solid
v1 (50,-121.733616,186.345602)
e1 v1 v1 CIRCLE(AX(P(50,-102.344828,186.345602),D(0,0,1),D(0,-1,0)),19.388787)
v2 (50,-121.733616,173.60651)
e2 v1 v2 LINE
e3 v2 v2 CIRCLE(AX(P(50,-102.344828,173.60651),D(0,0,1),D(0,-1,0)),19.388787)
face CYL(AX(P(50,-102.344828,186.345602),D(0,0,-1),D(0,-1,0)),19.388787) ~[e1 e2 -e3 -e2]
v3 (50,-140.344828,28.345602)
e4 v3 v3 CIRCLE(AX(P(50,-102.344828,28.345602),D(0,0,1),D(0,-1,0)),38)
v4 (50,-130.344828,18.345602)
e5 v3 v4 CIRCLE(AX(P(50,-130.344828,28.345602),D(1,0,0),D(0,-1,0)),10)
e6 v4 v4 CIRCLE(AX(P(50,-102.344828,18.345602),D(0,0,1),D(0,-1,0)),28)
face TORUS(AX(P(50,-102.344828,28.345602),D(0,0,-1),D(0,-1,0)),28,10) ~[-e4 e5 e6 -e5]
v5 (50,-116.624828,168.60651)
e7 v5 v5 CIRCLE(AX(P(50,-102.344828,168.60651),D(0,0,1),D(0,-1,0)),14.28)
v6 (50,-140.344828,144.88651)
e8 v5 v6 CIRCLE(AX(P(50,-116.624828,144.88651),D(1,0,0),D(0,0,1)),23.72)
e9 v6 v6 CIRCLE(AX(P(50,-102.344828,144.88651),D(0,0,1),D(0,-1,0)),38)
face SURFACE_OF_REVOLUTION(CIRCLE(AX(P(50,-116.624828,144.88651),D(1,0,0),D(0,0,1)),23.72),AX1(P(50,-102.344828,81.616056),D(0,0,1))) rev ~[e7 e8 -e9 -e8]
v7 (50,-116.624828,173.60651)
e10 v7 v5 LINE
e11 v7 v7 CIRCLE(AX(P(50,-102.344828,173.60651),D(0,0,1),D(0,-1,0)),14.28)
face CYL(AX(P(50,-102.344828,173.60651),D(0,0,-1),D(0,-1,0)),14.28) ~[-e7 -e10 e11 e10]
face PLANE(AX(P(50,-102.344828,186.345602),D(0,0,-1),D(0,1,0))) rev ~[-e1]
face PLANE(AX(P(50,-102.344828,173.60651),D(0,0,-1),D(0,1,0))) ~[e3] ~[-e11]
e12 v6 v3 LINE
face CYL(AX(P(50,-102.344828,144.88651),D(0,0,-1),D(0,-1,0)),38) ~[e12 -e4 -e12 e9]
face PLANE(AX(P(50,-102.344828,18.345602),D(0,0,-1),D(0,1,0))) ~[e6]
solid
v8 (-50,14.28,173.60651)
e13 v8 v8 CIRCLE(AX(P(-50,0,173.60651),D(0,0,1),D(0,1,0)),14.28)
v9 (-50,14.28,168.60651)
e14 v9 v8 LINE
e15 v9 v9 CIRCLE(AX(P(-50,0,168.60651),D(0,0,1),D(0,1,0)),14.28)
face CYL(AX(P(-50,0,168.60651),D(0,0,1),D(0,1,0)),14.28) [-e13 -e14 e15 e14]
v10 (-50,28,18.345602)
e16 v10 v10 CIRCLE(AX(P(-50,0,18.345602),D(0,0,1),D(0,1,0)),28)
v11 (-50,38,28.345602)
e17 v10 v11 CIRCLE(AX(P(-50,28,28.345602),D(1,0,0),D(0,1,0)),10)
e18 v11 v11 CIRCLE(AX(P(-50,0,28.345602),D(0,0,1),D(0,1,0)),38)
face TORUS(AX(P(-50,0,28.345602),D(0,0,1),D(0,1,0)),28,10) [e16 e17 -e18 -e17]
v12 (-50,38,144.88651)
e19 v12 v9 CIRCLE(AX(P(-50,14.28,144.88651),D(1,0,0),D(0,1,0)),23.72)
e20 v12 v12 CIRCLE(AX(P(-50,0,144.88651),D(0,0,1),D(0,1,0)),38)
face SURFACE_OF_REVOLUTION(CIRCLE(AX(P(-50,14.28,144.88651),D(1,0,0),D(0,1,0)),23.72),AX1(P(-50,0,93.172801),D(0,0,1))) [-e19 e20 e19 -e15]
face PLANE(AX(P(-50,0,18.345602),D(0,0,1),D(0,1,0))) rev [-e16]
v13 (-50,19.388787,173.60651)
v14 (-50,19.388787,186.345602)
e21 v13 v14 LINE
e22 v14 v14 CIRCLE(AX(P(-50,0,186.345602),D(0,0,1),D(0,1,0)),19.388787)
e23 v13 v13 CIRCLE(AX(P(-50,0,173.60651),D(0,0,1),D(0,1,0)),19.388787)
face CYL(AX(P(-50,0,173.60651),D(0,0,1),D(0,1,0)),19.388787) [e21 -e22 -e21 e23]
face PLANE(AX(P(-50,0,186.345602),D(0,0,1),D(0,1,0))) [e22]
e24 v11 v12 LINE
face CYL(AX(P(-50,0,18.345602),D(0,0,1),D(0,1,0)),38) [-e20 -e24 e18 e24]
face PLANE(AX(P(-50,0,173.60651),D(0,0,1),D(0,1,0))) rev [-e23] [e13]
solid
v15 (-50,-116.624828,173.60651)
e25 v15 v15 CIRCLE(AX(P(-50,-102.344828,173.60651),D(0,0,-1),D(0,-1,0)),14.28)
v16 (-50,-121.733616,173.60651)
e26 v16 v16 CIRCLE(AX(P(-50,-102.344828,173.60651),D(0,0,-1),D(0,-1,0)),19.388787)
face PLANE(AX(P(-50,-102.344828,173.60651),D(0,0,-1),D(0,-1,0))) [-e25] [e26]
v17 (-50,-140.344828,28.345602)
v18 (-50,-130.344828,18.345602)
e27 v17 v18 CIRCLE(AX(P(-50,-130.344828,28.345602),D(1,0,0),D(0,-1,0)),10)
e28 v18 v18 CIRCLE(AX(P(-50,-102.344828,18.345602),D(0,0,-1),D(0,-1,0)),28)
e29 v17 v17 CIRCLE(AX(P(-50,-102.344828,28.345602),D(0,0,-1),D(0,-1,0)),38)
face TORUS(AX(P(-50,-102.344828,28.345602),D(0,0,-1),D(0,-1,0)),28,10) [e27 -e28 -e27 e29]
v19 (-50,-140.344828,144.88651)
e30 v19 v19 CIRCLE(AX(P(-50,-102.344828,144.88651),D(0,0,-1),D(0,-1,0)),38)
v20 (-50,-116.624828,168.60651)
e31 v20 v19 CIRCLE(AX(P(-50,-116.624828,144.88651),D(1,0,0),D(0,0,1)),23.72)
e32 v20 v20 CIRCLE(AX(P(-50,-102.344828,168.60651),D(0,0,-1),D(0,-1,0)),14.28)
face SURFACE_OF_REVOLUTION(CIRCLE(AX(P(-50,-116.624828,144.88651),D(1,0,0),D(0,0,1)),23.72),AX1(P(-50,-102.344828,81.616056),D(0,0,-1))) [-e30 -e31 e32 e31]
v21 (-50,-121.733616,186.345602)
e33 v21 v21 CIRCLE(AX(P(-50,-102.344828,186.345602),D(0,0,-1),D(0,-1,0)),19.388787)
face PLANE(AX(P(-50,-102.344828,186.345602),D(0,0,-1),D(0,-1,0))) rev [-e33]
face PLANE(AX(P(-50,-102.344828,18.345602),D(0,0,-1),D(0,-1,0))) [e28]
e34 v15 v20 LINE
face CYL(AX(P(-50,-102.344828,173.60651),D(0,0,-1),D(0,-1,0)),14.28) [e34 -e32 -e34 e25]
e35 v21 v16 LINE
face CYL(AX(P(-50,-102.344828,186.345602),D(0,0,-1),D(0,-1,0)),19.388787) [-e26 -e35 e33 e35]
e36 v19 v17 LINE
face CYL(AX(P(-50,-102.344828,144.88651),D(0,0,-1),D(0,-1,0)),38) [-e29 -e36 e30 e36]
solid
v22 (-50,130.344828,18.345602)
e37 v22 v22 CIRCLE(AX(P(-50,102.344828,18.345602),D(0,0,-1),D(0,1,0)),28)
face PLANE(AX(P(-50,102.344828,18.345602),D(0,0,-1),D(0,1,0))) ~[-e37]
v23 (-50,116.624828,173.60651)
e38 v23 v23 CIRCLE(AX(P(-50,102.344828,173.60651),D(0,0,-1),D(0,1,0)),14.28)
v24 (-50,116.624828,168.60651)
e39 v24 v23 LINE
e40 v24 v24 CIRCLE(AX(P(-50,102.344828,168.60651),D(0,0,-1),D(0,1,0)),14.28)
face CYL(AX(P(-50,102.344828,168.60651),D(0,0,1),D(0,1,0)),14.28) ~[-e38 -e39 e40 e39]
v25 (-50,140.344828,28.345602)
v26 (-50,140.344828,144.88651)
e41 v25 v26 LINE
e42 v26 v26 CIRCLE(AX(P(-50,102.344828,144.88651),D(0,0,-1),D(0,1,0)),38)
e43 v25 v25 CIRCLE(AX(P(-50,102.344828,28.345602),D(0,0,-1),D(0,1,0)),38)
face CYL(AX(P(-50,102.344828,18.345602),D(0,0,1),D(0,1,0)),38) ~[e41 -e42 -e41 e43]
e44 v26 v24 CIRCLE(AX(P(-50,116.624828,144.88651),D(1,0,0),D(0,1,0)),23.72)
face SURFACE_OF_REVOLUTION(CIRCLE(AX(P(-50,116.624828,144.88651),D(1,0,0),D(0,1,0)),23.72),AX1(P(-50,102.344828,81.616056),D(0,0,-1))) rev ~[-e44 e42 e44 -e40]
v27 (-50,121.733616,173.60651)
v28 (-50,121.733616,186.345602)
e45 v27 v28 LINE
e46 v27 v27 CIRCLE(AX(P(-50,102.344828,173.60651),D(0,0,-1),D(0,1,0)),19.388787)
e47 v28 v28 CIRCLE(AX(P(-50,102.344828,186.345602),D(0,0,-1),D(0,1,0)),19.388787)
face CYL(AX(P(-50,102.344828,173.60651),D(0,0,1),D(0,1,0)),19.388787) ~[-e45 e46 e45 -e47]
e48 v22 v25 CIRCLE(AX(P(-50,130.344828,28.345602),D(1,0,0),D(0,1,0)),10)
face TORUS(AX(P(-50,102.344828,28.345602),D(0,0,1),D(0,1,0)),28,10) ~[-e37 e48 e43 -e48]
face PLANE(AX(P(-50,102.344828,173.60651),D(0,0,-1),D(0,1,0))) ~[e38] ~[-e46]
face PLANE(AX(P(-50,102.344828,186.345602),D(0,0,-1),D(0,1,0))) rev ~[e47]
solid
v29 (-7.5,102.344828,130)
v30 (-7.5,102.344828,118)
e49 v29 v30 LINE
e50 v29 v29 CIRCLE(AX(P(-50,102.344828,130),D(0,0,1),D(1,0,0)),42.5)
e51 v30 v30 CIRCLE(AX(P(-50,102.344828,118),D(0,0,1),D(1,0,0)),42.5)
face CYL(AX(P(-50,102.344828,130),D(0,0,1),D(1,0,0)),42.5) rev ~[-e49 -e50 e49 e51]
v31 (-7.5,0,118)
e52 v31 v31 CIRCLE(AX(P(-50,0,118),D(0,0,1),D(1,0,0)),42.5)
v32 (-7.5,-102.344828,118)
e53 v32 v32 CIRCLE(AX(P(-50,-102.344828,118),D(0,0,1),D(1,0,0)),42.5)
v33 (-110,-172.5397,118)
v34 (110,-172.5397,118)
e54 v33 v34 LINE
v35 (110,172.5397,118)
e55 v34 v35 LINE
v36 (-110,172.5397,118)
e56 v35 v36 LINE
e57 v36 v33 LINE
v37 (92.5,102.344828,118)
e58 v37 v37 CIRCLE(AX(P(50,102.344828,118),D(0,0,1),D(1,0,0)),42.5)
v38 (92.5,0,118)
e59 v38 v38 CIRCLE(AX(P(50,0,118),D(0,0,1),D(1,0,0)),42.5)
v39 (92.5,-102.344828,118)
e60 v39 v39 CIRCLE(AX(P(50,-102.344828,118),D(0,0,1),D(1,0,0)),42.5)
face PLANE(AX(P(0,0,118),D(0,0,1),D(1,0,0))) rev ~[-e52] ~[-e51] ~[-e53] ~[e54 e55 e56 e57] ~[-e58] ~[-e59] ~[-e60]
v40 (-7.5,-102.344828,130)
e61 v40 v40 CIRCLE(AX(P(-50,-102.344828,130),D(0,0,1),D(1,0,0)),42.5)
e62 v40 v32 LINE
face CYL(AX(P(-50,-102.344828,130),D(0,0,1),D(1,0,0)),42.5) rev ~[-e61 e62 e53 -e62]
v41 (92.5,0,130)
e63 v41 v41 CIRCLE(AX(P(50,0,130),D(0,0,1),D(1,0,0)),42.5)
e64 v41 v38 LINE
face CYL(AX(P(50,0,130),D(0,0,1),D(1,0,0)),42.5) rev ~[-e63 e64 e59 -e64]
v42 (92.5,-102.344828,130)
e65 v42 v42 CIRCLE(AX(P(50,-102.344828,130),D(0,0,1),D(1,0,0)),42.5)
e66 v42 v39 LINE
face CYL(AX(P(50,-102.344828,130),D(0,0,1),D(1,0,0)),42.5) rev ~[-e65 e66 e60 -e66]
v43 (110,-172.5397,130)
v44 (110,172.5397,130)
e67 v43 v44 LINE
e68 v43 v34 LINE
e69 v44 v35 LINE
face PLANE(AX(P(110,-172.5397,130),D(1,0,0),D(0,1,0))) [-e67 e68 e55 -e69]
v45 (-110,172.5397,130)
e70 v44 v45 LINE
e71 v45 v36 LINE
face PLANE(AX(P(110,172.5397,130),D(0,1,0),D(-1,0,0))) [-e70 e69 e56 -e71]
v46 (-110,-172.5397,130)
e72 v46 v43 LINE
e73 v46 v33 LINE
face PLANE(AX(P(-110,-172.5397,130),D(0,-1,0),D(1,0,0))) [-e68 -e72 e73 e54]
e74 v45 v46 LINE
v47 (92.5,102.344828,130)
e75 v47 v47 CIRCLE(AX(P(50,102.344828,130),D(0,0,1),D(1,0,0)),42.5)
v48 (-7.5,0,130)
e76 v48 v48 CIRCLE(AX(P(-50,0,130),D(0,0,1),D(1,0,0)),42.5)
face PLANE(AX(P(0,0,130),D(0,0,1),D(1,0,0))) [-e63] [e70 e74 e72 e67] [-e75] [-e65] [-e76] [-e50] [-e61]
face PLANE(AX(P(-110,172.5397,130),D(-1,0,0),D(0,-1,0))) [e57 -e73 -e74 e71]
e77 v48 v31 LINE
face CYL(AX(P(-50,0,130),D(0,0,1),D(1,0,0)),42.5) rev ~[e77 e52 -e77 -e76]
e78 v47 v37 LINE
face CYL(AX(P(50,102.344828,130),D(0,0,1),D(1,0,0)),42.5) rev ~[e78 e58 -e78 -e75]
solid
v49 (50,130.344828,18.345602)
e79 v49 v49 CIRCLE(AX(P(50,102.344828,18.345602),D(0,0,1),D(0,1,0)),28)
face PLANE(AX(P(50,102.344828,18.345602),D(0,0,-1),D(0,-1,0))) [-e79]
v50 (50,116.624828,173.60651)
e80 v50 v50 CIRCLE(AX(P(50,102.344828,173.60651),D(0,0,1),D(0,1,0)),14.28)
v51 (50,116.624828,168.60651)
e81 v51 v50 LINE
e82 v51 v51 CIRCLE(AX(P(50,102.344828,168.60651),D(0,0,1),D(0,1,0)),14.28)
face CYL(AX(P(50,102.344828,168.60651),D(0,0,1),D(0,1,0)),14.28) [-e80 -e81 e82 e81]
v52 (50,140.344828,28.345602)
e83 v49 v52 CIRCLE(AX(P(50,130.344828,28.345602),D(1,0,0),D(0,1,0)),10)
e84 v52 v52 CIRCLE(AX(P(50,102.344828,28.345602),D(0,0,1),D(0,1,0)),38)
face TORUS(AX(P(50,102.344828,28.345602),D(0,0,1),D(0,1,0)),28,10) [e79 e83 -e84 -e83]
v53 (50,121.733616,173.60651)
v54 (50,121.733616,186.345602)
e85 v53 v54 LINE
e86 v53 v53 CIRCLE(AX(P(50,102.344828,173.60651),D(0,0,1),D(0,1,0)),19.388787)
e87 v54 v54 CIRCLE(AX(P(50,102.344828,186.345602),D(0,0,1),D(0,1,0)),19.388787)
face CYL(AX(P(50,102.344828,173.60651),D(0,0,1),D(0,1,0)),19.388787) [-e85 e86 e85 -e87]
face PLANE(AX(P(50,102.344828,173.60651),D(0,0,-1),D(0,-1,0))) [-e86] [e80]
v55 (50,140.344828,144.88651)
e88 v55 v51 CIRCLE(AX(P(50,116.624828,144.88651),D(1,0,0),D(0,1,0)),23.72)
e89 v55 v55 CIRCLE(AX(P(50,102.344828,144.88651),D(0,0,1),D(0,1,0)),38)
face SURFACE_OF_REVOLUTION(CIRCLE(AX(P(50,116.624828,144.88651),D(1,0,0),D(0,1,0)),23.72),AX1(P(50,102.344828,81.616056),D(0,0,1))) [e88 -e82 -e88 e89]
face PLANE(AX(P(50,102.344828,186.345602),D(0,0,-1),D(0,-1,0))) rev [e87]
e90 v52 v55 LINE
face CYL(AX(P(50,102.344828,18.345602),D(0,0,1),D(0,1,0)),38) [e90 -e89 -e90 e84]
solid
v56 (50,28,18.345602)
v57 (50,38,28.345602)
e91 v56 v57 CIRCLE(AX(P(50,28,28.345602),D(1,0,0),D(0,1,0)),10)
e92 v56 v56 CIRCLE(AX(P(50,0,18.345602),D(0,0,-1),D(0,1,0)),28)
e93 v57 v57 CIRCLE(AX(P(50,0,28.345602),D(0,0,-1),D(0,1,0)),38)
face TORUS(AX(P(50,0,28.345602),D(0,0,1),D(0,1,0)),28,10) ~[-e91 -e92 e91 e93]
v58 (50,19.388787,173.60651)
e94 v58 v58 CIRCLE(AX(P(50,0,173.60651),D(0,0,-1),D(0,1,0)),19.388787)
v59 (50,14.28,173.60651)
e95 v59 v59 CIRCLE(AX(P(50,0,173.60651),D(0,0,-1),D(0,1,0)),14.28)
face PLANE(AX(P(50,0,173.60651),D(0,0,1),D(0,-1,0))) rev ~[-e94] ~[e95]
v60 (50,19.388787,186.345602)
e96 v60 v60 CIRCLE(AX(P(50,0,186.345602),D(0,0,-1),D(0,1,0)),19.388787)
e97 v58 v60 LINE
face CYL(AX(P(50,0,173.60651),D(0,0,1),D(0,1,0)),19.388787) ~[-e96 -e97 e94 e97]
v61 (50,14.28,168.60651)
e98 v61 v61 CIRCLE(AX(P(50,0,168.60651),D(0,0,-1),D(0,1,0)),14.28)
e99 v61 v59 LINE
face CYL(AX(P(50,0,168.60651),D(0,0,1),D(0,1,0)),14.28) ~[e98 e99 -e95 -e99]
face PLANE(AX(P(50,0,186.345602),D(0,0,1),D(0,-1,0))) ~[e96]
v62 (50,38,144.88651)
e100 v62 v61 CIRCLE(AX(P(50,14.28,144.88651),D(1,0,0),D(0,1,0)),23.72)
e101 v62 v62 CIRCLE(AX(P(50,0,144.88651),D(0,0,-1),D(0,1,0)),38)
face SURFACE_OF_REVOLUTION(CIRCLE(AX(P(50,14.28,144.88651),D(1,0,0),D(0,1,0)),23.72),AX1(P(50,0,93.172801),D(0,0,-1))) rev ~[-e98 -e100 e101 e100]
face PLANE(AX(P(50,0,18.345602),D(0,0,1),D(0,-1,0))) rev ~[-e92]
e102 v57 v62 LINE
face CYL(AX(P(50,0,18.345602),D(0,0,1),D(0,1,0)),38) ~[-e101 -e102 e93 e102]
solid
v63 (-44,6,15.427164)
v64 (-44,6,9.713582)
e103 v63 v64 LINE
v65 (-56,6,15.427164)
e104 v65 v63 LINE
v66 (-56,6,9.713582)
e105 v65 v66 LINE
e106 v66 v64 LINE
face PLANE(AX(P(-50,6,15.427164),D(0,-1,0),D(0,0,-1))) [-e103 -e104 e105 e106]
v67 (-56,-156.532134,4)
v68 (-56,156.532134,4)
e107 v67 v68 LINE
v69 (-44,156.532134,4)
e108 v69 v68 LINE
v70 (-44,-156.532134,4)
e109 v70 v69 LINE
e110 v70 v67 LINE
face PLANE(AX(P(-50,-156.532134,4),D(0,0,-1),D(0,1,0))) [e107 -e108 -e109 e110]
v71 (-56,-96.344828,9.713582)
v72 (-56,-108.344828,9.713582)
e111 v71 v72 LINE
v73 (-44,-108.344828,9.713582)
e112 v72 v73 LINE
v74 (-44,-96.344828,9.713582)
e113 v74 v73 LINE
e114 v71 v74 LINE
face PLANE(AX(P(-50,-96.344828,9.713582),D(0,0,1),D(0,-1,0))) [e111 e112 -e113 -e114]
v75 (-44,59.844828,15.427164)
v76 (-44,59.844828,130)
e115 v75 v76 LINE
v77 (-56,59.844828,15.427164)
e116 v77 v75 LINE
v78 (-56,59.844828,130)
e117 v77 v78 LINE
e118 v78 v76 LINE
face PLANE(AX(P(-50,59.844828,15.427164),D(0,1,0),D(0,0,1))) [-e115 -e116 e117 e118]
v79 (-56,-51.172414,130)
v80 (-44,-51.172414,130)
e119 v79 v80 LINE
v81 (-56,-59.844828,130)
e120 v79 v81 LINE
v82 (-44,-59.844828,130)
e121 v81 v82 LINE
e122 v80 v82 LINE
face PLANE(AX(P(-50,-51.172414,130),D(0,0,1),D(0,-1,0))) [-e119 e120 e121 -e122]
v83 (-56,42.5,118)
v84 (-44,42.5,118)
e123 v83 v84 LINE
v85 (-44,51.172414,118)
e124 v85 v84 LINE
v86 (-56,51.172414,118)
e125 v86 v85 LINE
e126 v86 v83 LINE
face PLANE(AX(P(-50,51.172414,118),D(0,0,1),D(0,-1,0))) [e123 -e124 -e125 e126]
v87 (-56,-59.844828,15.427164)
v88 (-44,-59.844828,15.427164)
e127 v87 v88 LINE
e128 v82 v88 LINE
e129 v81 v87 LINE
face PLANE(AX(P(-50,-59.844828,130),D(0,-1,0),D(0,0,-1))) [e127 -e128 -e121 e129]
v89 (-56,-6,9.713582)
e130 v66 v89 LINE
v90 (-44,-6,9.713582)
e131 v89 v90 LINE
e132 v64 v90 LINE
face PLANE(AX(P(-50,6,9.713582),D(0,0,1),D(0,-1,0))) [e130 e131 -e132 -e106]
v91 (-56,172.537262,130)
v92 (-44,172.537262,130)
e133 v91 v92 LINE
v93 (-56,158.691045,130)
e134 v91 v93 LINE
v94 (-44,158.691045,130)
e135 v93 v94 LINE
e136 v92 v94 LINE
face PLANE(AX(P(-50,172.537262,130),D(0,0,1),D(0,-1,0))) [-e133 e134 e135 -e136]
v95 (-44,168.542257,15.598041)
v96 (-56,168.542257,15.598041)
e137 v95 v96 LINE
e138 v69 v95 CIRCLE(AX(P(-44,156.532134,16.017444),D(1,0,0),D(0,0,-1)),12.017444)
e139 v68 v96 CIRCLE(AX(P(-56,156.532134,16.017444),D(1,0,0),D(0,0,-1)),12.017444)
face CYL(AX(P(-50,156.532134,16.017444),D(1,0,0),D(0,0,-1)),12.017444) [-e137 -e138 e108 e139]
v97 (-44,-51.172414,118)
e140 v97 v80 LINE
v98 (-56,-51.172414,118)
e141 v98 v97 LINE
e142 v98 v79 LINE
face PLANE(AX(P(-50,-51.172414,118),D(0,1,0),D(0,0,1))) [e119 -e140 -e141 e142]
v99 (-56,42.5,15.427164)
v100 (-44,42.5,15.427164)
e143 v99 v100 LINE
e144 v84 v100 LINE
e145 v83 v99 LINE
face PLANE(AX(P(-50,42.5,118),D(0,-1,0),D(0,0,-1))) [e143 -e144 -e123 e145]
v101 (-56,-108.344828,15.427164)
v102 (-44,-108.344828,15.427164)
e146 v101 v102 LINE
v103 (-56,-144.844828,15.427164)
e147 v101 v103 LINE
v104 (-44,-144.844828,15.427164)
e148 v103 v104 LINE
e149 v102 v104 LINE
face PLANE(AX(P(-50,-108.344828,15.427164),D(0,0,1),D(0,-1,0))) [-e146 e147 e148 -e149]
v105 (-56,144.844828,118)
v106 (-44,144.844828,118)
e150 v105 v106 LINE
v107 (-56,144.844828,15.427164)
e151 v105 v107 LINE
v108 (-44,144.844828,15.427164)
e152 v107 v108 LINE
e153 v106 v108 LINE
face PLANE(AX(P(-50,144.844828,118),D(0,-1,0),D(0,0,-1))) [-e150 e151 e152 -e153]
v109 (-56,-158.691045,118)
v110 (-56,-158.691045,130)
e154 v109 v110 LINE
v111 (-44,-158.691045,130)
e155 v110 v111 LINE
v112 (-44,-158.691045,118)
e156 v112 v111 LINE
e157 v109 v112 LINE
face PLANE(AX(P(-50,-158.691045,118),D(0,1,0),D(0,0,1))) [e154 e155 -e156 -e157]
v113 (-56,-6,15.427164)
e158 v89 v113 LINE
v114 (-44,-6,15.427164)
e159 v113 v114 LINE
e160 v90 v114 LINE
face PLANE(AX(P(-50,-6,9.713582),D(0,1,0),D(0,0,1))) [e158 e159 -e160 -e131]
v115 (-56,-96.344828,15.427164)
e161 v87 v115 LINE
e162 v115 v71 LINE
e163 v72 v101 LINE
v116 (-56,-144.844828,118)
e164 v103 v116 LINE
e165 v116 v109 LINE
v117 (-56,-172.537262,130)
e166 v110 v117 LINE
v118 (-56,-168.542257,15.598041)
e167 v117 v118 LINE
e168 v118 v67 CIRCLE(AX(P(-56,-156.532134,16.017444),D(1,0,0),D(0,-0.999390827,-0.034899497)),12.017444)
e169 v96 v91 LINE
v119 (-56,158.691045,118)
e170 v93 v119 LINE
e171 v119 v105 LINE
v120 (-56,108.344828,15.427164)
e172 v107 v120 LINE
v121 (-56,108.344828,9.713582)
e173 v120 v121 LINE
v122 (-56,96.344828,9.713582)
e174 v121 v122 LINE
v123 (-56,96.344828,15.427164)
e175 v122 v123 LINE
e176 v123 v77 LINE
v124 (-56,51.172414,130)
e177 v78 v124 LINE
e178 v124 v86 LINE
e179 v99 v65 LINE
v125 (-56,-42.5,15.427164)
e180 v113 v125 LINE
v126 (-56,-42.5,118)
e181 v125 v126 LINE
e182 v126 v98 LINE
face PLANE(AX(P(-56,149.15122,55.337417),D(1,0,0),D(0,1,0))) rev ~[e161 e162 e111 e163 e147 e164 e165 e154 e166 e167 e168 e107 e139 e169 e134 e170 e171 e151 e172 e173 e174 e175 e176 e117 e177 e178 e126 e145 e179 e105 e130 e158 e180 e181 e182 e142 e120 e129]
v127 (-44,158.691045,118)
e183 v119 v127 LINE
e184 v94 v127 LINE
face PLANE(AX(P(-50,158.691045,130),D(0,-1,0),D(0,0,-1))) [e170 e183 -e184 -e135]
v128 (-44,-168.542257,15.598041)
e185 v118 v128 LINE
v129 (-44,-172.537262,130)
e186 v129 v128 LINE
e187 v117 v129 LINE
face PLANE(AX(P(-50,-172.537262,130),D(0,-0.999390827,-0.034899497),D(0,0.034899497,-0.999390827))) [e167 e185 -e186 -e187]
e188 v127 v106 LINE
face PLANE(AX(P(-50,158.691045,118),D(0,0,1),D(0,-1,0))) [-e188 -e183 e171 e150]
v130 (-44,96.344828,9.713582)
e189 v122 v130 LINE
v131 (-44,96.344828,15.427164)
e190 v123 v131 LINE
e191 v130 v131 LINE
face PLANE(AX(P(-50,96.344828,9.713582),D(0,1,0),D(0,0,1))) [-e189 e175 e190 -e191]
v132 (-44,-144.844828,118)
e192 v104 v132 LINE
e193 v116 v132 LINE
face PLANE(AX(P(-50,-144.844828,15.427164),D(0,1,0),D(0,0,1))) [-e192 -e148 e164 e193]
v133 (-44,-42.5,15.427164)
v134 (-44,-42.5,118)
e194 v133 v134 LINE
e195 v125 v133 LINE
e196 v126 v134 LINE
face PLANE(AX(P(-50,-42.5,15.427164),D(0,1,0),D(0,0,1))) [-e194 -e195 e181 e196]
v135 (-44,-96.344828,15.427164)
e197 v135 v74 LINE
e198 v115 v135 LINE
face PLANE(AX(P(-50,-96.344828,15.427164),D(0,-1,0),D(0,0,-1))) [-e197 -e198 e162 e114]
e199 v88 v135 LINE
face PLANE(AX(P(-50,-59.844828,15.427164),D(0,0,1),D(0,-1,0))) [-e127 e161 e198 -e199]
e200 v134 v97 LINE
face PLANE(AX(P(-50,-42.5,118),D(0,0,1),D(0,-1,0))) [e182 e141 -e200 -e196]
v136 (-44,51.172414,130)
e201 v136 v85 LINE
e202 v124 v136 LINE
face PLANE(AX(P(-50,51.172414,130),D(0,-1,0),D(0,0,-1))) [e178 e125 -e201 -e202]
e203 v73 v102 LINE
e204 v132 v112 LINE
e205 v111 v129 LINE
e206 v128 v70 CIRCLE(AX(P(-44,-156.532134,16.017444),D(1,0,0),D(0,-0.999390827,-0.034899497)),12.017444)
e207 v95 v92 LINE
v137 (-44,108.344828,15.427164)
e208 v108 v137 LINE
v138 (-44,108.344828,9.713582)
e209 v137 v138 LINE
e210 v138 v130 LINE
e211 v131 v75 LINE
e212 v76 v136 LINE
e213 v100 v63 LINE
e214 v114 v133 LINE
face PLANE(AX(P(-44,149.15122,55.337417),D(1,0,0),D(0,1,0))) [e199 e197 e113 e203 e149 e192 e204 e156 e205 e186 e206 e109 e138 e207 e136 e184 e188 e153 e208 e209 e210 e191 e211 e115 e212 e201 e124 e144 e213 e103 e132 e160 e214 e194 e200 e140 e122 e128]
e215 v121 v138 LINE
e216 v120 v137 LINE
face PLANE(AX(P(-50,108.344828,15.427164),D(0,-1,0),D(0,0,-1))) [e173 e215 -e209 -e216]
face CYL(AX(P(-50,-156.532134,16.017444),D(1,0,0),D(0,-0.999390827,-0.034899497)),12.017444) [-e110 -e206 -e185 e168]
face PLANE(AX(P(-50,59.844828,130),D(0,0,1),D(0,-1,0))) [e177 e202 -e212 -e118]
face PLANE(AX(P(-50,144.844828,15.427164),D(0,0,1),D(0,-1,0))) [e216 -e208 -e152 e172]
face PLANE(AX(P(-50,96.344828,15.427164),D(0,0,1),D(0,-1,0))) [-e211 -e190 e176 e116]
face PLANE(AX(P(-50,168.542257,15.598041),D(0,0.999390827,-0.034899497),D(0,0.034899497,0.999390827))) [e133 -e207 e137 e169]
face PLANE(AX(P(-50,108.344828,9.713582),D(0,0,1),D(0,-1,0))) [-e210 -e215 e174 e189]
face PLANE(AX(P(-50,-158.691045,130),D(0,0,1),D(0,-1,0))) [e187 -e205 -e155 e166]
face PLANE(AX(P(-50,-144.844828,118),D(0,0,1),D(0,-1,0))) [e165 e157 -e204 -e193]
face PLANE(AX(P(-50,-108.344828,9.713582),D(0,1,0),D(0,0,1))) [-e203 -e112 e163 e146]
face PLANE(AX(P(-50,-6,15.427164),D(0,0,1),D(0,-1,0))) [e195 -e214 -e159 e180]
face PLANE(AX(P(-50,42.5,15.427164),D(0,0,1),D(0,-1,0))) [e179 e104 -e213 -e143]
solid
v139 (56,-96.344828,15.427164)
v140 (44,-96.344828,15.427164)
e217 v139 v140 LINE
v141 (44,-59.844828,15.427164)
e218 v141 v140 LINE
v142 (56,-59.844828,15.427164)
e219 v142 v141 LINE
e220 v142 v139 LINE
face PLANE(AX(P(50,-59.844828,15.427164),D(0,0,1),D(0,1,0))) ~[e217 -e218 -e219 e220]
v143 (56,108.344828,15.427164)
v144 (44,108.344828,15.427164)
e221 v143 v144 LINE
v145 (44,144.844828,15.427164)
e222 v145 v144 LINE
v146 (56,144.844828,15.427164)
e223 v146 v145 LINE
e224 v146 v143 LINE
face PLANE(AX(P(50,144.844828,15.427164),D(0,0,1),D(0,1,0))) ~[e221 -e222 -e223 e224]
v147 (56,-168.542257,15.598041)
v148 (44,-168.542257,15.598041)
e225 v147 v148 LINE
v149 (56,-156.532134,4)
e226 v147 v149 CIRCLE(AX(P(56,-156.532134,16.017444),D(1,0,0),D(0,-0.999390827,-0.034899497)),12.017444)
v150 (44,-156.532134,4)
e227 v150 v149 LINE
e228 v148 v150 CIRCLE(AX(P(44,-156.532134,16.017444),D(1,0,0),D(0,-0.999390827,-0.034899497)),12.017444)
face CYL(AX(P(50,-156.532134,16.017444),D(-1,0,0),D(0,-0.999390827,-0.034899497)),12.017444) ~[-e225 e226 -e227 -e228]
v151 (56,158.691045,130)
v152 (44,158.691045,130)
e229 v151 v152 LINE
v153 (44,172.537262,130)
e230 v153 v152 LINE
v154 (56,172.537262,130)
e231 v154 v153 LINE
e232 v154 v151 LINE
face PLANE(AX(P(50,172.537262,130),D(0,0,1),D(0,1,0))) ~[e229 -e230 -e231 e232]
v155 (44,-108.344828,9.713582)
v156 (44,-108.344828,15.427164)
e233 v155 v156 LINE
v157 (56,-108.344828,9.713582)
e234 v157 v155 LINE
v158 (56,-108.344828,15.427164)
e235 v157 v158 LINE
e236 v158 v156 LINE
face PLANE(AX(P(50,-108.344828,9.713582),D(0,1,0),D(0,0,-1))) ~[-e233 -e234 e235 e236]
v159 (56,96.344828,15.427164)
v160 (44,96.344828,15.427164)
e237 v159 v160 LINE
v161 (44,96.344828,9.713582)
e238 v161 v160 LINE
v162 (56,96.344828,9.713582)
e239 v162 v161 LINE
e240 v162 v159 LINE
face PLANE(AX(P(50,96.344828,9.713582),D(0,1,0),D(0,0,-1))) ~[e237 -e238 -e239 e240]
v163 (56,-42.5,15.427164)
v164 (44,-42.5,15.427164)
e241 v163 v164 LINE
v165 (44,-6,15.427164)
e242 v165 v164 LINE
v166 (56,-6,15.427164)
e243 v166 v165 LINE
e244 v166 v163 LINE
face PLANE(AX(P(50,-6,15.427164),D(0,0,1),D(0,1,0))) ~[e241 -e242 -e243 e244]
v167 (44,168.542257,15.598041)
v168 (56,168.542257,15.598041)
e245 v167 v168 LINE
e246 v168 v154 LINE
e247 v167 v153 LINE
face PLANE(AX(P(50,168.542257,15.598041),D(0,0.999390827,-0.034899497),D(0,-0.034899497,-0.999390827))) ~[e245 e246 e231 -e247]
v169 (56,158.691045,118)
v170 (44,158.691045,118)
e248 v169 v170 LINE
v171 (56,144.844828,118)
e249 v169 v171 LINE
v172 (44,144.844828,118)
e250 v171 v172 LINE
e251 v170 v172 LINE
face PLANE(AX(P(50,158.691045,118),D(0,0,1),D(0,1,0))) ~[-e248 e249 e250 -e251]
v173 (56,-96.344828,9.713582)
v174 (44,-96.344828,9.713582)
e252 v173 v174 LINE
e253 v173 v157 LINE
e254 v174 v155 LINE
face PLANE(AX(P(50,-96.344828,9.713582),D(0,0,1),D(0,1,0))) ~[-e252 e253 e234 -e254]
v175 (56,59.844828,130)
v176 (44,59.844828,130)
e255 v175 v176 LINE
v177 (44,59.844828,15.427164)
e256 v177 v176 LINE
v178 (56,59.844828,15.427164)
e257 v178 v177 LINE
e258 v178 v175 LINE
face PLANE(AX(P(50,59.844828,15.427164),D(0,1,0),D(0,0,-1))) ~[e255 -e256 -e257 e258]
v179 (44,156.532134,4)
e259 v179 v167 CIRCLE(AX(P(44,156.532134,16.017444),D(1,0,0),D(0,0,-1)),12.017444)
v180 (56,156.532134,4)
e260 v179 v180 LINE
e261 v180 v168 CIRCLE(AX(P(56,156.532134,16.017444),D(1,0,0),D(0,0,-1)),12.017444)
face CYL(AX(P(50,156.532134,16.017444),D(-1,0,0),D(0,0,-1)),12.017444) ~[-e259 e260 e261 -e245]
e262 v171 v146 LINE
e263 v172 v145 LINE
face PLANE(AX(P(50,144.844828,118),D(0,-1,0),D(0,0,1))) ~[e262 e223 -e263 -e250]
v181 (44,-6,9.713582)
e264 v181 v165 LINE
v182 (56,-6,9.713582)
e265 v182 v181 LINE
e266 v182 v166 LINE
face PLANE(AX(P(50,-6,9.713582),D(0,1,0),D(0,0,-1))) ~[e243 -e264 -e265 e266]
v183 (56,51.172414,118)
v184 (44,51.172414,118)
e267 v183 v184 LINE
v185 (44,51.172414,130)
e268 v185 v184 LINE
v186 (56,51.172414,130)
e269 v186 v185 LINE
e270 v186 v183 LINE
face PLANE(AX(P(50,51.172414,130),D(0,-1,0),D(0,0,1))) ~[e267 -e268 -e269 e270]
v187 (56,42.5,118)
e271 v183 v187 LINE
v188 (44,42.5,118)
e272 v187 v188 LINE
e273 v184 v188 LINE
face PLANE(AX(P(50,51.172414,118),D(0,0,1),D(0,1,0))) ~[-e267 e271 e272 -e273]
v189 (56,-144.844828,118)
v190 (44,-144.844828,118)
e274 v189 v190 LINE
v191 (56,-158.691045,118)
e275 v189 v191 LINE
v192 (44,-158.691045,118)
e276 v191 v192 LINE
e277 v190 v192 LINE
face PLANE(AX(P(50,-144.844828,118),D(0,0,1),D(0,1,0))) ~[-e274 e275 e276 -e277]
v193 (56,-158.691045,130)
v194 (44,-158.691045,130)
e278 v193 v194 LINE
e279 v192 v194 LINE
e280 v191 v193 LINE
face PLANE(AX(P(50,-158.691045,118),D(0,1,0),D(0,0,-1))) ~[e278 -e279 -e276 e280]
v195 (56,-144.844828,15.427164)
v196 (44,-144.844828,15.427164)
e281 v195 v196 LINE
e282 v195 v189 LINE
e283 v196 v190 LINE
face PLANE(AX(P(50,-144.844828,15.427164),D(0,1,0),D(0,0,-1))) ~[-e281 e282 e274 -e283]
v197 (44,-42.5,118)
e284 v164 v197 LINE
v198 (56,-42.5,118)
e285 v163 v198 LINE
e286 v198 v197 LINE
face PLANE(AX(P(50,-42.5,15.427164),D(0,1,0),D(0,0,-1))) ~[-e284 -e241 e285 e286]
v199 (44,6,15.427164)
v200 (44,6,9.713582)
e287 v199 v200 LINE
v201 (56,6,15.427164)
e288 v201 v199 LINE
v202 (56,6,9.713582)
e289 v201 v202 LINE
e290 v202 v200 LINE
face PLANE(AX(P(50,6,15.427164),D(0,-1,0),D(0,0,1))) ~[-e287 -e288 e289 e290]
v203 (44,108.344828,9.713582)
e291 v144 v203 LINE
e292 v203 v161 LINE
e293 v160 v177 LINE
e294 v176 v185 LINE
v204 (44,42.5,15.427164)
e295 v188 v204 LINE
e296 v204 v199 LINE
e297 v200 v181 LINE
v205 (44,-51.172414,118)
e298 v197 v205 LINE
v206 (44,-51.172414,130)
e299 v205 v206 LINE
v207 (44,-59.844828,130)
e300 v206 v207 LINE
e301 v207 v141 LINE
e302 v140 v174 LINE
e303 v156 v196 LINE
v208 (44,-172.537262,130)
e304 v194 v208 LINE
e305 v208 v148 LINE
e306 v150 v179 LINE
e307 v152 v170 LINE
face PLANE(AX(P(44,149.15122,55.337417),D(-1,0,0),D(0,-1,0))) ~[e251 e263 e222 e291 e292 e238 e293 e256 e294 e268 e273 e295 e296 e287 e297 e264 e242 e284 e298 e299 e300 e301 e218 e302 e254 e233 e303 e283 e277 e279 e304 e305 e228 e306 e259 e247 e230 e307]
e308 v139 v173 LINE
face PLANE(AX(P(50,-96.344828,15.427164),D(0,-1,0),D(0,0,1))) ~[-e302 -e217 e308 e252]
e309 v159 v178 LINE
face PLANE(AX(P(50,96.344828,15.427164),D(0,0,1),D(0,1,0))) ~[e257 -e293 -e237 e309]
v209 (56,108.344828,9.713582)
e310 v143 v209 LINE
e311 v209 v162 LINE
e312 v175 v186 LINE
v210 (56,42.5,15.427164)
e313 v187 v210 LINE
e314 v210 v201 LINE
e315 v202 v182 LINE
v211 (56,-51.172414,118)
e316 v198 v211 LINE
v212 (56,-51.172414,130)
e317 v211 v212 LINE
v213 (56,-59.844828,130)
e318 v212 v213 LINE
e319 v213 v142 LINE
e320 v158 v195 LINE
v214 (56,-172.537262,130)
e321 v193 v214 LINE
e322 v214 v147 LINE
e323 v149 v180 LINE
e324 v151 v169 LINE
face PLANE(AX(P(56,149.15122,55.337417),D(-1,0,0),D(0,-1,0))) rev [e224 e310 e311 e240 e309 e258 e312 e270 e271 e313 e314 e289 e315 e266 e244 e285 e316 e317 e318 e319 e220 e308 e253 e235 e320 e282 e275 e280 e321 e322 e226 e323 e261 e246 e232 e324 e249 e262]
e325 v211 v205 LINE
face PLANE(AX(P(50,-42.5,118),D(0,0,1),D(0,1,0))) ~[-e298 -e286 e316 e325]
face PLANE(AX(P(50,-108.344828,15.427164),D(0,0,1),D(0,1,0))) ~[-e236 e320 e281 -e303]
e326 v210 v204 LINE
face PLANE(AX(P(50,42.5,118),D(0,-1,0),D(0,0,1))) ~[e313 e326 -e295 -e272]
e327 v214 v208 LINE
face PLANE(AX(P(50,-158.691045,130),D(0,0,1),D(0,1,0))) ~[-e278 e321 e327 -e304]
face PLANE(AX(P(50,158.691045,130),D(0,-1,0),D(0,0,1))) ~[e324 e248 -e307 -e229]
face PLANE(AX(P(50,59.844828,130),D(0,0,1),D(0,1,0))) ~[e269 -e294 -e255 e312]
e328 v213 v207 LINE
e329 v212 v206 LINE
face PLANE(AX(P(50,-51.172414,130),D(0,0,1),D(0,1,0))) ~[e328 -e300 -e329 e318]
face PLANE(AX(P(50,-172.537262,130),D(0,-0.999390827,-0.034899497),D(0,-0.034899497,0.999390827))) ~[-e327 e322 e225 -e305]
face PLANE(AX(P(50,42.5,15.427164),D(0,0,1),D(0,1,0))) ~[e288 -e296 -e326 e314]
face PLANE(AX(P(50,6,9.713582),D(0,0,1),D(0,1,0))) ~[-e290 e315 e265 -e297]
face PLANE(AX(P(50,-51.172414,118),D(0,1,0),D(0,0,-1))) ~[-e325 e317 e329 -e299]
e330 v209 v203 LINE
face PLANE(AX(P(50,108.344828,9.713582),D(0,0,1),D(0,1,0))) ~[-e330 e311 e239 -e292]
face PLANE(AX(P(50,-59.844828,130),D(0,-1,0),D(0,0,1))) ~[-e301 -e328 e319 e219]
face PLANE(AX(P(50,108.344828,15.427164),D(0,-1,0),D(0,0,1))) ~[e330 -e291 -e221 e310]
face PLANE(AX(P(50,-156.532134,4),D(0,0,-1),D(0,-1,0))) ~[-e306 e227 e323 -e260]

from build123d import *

# Parameters (mm, degrees)
F8_R      = 10
F8_2_R    = 10
F8_3_R    = 10
F11_R     = 42.5
F12_DEPTH = 12
F14_DEPTH = 6


with BuildPart() as f5:
    # F4 (on offset) → F5 (revolve)
    with BuildSketch(Plane.YZ.offset(-50)):
        with BuildLine():
            Line((0, 186.3456023064), (0, 18.3456023064))
            Line((0, 18.3456023064), (38, 18.3456023064))
            Line((38, 18.3456023064), (38, 144.8865103859))
            ThreePointArc((38, 144.8865103859), (31.0525728497, 161.6590832356), (14.28, 168.6065103859))
            Line((14.28, 168.6065103859), (14.28, 173.6065103859))
            Line((14.28, 173.6065103859), (19.3887874484, 173.6065103859))
            Line((19.3887874484, 173.6065103859), (19.3887874484, 186.3456023064))
            Line((19.3887874484, 186.3456023064), (0, 186.3456023064))
        make_face()
    revolve(axis=Axis((-50, 0, 93.1728011532), (0, 0, 1)))

    # F8#2
    f8_2_edges = [f5.edges().sort_by_distance(p)[0] for p in [
        (-50, -38, 18.345602),
    ]]
    fillet(f8_2_edges, radius=F8_2_R)


with BuildPart() as f6:
    # F4 (on offset) → F6 (revolve)
    with BuildSketch(Plane.YZ.offset(-50)):
        with BuildLine():
            Line((-140.3448283672, 144.8865103859), (-140.3448283672, 18.3456023064))
            Line((-140.3448283672, 18.3456023064), (-102.3448283672, 18.3456023064))
            Line((-102.3448283672, 18.3456023064), (-102.3448283672, 144.8865103859))
            Line((-102.3448283672, 144.8865103859), (-102.3448283672, 186.3456023064))
            Line((-102.3448283672, 186.3456023064), (-121.7336158156, 186.3456023064))
            Line((-121.7336158156, 186.3456023064), (-121.7336158156, 173.6065103859))
            Line((-121.7336158156, 173.6065103859), (-116.6248283672, 173.6065103859))
            Line((-116.6248283672, 173.6065103859), (-116.6248283672, 168.6065103859))
            ThreePointArc((-116.6248283672, 168.6065103859), (-133.397401217, 161.6590832356), (-140.3448283672, 144.8865103859))
        make_face()
    revolve(axis=Axis((-50, -102.3448283672, 81.6160563462), (0, 0, -1)))

    # F8#3
    f8_3_edges = [f6.edges().sort_by_distance(p)[0] for p in [
        (-50, -64.344828, 18.345602),
    ]]
    fillet(f8_3_edges, radius=F8_3_R)


with BuildPart() as f7:
    # F4 (on offset) → F7 (revolve)
    with BuildSketch(Plane.YZ.offset(-50)):
        with BuildLine():
            Line((102.3448283672, 18.3456023064), (140.3448283672, 18.3456023064))
            Line((140.3448283672, 18.3456023064), (140.3448283672, 144.8865103859))
            ThreePointArc((140.3448283672, 144.8865103859), (133.397401217, 161.6590832356), (116.6248283672, 168.6065103859))
            Line((116.6248283672, 168.6065103859), (116.6248283672, 173.6065103859))
            Line((116.6248283672, 173.6065103859), (121.7336158156, 173.6065103859))
            Line((121.7336158156, 173.6065103859), (121.7336158156, 186.3456023064))
            Line((121.7336158156, 186.3456023064), (102.3448283672, 186.3456023064))
            Line((102.3448283672, 186.3456023064), (102.3448283672, 144.8865103859))
            Line((102.3448283672, 144.8865103859), (102.3448283672, 18.3456023064))
        make_face()
    revolve(axis=Axis((-50, 102.3448283672, 81.6160563462), (0, 0, -1)))

    # F8
    f8_edges = [f7.edges().sort_by_distance(p)[0] for p in [
        (-50, 64.344828, 18.345602),
    ]]
    fillet(f8_edges, radius=F8_R)


with BuildPart() as f9_1:
    # F9: instance of F7
    add(f7.part.mirror(Plane.YZ))


with BuildPart() as f9_2:
    # F9: instance of F5
    add(f5.part.mirror(Plane.YZ))


with BuildPart() as f9_3:
    # F9: instance of F6
    add(f6.part.mirror(Plane.YZ))


with BuildPart() as f12:
    # F11 (on offset) → F12 (new body)
    with BuildSketch(Plane.XY.offset(130)):
        Polygon((-110, -172.5397000339), (0, -172.5397000339), (110, -172.5397000339), (110, 0), (110, 172.5397000339), (0, 172.5397000339), (-110, 172.5397000339), (-110, 0), align=None)
        with Locations((-50, -102.3448283672)):
            Circle(F11_R, mode=Mode.SUBTRACT)
        with Locations((-50, 0)):
            Circle(F11_R, mode=Mode.SUBTRACT)
        with Locations((50, -102.3448283672)):
            Circle(F11_R, mode=Mode.SUBTRACT)
        with Locations((50, 0)):
            Circle(F11_R, mode=Mode.SUBTRACT)
        with Locations((-50, 102.3448283672)):
            Circle(F11_R, mode=Mode.SUBTRACT)
        with Locations((50, 102.3448283672)):
            Circle(F11_R, mode=Mode.SUBTRACT)
    extrude(amount=-F12_DEPTH)


with BuildPart() as f14:
    # F13 (on offset) → F14 (new body, symmetric)
    with BuildSketch(Plane.YZ.offset(-50)):
        with BuildLine():
            Line((168.5422574275, 15.5980412994), (172.5372618567, 130))
            Line((172.5372618567, 130), (158.691045112, 130))
            Line((158.691045112, 130), (158.691045112, 118))
            Line((158.691045112, 118), (144.8448283672, 118))
            Line((144.8448283672, 118), (144.8448283672, 15.4271644799))
            Line((144.8448283672, 15.4271644799), (108.3448283672, 15.4271644799))
            Line((108.3448283672, 15.4271644799), (108.3448283672, 9.71358224))
            Line((108.3448283672, 9.71358224), (102.3448283672, 9.71358224))
            Line((102.3448283672, 9.71358224), (102.3448283672, 4))
            Line((102.3448283672, 4), (156.5321340815, 4))
            ThreePointArc((156.5321340815, 4), (164.8801521811, 7.372818246), (168.5422574275, 15.5980412994))
        make_face()
        with BuildLine():
            Line((0, 4), (102.3448283672, 4))
            Line((102.3448283672, 4), (102.3448283672, 9.71358224))
            Line((102.3448283672, 9.71358224), (96.3448283672, 9.71358224))
            Line((96.3448283672, 9.71358224), (96.3448283672, 15.4271644799))
            Line((96.3448283672, 15.4271644799), (59.8448283672, 15.4271644799))
            Line((59.8448283672, 15.4271644799), (59.8448283672, 130))
            Line((59.8448283672, 130), (51.1724141836, 130))
            Line((51.1724141836, 130), (51.1724141836, 118))
            Line((51.1724141836, 118), (42.5, 118))
            Line((42.5, 118), (42.5, 15.4271644799))
            Line((42.5, 15.4271644799), (6, 15.4271644799))
            Line((6, 15.4271644799), (6, 9.71358224))
            Line((6, 9.71358224), (0, 9.71358224))
            Line((0, 9.71358224), (-6, 9.71358224))
            Line((-6, 9.71358224), (-6, 15.4271644799))
            Line((-6, 15.4271644799), (-42.5, 15.4271644799))
            Line((-42.5, 15.4271644799), (-42.5, 118))
            Line((-42.5, 118), (-51.1724141836, 118))
            Line((-51.1724141836, 118), (-51.1724141836, 130))
            Line((-51.1724141836, 130), (-59.8448283672, 130))
            Line((-59.8448283672, 130), (-59.8448283672, 15.4271644799))
            Line((-59.8448283672, 15.4271644799), (-96.3448283672, 15.4271644799))
            Line((-96.3448283672, 15.4271644799), (-96.3448283672, 9.71358224))
            Line((-96.3448283672, 9.71358224), (-102.3448283672, 9.71358224))
            Line((-102.3448283672, 9.71358224), (-108.3448283672, 9.71358224))
            Line((-108.3448283672, 9.71358224), (-108.3448283672, 15.4271644799))
            Line((-108.3448283672, 15.4271644799), (-144.8448283672, 15.4271644799))
            Line((-144.8448283672, 15.4271644799), (-144.8448283672, 118))
            Line((-144.8448283672, 118), (-158.691045112, 118))
            Line((-158.691045112, 118), (-158.691045112, 130))
            Line((-158.691045112, 130), (-172.5372618567, 130))
            Line((-172.5372618567, 130), (-168.5422574275, 15.5980412994))
            ThreePointArc((-168.5422574275, 15.5980412994), (-164.8801521811, 7.372818246), (-156.5321340815, 4))
            Line((-156.5321340815, 4), (0, 4))
        make_face()
    extrude(amount=F14_DEPTH, both=True)


with BuildPart() as f15_1:
    # F15: instance of F14
    add(f14.part.mirror(Plane.YZ))


solid = Compound([f5.part, f6.part, f7.part, f9_1.part, f9_2.part, f9_3.part, f12.part, f14.part, f15_1.part])
